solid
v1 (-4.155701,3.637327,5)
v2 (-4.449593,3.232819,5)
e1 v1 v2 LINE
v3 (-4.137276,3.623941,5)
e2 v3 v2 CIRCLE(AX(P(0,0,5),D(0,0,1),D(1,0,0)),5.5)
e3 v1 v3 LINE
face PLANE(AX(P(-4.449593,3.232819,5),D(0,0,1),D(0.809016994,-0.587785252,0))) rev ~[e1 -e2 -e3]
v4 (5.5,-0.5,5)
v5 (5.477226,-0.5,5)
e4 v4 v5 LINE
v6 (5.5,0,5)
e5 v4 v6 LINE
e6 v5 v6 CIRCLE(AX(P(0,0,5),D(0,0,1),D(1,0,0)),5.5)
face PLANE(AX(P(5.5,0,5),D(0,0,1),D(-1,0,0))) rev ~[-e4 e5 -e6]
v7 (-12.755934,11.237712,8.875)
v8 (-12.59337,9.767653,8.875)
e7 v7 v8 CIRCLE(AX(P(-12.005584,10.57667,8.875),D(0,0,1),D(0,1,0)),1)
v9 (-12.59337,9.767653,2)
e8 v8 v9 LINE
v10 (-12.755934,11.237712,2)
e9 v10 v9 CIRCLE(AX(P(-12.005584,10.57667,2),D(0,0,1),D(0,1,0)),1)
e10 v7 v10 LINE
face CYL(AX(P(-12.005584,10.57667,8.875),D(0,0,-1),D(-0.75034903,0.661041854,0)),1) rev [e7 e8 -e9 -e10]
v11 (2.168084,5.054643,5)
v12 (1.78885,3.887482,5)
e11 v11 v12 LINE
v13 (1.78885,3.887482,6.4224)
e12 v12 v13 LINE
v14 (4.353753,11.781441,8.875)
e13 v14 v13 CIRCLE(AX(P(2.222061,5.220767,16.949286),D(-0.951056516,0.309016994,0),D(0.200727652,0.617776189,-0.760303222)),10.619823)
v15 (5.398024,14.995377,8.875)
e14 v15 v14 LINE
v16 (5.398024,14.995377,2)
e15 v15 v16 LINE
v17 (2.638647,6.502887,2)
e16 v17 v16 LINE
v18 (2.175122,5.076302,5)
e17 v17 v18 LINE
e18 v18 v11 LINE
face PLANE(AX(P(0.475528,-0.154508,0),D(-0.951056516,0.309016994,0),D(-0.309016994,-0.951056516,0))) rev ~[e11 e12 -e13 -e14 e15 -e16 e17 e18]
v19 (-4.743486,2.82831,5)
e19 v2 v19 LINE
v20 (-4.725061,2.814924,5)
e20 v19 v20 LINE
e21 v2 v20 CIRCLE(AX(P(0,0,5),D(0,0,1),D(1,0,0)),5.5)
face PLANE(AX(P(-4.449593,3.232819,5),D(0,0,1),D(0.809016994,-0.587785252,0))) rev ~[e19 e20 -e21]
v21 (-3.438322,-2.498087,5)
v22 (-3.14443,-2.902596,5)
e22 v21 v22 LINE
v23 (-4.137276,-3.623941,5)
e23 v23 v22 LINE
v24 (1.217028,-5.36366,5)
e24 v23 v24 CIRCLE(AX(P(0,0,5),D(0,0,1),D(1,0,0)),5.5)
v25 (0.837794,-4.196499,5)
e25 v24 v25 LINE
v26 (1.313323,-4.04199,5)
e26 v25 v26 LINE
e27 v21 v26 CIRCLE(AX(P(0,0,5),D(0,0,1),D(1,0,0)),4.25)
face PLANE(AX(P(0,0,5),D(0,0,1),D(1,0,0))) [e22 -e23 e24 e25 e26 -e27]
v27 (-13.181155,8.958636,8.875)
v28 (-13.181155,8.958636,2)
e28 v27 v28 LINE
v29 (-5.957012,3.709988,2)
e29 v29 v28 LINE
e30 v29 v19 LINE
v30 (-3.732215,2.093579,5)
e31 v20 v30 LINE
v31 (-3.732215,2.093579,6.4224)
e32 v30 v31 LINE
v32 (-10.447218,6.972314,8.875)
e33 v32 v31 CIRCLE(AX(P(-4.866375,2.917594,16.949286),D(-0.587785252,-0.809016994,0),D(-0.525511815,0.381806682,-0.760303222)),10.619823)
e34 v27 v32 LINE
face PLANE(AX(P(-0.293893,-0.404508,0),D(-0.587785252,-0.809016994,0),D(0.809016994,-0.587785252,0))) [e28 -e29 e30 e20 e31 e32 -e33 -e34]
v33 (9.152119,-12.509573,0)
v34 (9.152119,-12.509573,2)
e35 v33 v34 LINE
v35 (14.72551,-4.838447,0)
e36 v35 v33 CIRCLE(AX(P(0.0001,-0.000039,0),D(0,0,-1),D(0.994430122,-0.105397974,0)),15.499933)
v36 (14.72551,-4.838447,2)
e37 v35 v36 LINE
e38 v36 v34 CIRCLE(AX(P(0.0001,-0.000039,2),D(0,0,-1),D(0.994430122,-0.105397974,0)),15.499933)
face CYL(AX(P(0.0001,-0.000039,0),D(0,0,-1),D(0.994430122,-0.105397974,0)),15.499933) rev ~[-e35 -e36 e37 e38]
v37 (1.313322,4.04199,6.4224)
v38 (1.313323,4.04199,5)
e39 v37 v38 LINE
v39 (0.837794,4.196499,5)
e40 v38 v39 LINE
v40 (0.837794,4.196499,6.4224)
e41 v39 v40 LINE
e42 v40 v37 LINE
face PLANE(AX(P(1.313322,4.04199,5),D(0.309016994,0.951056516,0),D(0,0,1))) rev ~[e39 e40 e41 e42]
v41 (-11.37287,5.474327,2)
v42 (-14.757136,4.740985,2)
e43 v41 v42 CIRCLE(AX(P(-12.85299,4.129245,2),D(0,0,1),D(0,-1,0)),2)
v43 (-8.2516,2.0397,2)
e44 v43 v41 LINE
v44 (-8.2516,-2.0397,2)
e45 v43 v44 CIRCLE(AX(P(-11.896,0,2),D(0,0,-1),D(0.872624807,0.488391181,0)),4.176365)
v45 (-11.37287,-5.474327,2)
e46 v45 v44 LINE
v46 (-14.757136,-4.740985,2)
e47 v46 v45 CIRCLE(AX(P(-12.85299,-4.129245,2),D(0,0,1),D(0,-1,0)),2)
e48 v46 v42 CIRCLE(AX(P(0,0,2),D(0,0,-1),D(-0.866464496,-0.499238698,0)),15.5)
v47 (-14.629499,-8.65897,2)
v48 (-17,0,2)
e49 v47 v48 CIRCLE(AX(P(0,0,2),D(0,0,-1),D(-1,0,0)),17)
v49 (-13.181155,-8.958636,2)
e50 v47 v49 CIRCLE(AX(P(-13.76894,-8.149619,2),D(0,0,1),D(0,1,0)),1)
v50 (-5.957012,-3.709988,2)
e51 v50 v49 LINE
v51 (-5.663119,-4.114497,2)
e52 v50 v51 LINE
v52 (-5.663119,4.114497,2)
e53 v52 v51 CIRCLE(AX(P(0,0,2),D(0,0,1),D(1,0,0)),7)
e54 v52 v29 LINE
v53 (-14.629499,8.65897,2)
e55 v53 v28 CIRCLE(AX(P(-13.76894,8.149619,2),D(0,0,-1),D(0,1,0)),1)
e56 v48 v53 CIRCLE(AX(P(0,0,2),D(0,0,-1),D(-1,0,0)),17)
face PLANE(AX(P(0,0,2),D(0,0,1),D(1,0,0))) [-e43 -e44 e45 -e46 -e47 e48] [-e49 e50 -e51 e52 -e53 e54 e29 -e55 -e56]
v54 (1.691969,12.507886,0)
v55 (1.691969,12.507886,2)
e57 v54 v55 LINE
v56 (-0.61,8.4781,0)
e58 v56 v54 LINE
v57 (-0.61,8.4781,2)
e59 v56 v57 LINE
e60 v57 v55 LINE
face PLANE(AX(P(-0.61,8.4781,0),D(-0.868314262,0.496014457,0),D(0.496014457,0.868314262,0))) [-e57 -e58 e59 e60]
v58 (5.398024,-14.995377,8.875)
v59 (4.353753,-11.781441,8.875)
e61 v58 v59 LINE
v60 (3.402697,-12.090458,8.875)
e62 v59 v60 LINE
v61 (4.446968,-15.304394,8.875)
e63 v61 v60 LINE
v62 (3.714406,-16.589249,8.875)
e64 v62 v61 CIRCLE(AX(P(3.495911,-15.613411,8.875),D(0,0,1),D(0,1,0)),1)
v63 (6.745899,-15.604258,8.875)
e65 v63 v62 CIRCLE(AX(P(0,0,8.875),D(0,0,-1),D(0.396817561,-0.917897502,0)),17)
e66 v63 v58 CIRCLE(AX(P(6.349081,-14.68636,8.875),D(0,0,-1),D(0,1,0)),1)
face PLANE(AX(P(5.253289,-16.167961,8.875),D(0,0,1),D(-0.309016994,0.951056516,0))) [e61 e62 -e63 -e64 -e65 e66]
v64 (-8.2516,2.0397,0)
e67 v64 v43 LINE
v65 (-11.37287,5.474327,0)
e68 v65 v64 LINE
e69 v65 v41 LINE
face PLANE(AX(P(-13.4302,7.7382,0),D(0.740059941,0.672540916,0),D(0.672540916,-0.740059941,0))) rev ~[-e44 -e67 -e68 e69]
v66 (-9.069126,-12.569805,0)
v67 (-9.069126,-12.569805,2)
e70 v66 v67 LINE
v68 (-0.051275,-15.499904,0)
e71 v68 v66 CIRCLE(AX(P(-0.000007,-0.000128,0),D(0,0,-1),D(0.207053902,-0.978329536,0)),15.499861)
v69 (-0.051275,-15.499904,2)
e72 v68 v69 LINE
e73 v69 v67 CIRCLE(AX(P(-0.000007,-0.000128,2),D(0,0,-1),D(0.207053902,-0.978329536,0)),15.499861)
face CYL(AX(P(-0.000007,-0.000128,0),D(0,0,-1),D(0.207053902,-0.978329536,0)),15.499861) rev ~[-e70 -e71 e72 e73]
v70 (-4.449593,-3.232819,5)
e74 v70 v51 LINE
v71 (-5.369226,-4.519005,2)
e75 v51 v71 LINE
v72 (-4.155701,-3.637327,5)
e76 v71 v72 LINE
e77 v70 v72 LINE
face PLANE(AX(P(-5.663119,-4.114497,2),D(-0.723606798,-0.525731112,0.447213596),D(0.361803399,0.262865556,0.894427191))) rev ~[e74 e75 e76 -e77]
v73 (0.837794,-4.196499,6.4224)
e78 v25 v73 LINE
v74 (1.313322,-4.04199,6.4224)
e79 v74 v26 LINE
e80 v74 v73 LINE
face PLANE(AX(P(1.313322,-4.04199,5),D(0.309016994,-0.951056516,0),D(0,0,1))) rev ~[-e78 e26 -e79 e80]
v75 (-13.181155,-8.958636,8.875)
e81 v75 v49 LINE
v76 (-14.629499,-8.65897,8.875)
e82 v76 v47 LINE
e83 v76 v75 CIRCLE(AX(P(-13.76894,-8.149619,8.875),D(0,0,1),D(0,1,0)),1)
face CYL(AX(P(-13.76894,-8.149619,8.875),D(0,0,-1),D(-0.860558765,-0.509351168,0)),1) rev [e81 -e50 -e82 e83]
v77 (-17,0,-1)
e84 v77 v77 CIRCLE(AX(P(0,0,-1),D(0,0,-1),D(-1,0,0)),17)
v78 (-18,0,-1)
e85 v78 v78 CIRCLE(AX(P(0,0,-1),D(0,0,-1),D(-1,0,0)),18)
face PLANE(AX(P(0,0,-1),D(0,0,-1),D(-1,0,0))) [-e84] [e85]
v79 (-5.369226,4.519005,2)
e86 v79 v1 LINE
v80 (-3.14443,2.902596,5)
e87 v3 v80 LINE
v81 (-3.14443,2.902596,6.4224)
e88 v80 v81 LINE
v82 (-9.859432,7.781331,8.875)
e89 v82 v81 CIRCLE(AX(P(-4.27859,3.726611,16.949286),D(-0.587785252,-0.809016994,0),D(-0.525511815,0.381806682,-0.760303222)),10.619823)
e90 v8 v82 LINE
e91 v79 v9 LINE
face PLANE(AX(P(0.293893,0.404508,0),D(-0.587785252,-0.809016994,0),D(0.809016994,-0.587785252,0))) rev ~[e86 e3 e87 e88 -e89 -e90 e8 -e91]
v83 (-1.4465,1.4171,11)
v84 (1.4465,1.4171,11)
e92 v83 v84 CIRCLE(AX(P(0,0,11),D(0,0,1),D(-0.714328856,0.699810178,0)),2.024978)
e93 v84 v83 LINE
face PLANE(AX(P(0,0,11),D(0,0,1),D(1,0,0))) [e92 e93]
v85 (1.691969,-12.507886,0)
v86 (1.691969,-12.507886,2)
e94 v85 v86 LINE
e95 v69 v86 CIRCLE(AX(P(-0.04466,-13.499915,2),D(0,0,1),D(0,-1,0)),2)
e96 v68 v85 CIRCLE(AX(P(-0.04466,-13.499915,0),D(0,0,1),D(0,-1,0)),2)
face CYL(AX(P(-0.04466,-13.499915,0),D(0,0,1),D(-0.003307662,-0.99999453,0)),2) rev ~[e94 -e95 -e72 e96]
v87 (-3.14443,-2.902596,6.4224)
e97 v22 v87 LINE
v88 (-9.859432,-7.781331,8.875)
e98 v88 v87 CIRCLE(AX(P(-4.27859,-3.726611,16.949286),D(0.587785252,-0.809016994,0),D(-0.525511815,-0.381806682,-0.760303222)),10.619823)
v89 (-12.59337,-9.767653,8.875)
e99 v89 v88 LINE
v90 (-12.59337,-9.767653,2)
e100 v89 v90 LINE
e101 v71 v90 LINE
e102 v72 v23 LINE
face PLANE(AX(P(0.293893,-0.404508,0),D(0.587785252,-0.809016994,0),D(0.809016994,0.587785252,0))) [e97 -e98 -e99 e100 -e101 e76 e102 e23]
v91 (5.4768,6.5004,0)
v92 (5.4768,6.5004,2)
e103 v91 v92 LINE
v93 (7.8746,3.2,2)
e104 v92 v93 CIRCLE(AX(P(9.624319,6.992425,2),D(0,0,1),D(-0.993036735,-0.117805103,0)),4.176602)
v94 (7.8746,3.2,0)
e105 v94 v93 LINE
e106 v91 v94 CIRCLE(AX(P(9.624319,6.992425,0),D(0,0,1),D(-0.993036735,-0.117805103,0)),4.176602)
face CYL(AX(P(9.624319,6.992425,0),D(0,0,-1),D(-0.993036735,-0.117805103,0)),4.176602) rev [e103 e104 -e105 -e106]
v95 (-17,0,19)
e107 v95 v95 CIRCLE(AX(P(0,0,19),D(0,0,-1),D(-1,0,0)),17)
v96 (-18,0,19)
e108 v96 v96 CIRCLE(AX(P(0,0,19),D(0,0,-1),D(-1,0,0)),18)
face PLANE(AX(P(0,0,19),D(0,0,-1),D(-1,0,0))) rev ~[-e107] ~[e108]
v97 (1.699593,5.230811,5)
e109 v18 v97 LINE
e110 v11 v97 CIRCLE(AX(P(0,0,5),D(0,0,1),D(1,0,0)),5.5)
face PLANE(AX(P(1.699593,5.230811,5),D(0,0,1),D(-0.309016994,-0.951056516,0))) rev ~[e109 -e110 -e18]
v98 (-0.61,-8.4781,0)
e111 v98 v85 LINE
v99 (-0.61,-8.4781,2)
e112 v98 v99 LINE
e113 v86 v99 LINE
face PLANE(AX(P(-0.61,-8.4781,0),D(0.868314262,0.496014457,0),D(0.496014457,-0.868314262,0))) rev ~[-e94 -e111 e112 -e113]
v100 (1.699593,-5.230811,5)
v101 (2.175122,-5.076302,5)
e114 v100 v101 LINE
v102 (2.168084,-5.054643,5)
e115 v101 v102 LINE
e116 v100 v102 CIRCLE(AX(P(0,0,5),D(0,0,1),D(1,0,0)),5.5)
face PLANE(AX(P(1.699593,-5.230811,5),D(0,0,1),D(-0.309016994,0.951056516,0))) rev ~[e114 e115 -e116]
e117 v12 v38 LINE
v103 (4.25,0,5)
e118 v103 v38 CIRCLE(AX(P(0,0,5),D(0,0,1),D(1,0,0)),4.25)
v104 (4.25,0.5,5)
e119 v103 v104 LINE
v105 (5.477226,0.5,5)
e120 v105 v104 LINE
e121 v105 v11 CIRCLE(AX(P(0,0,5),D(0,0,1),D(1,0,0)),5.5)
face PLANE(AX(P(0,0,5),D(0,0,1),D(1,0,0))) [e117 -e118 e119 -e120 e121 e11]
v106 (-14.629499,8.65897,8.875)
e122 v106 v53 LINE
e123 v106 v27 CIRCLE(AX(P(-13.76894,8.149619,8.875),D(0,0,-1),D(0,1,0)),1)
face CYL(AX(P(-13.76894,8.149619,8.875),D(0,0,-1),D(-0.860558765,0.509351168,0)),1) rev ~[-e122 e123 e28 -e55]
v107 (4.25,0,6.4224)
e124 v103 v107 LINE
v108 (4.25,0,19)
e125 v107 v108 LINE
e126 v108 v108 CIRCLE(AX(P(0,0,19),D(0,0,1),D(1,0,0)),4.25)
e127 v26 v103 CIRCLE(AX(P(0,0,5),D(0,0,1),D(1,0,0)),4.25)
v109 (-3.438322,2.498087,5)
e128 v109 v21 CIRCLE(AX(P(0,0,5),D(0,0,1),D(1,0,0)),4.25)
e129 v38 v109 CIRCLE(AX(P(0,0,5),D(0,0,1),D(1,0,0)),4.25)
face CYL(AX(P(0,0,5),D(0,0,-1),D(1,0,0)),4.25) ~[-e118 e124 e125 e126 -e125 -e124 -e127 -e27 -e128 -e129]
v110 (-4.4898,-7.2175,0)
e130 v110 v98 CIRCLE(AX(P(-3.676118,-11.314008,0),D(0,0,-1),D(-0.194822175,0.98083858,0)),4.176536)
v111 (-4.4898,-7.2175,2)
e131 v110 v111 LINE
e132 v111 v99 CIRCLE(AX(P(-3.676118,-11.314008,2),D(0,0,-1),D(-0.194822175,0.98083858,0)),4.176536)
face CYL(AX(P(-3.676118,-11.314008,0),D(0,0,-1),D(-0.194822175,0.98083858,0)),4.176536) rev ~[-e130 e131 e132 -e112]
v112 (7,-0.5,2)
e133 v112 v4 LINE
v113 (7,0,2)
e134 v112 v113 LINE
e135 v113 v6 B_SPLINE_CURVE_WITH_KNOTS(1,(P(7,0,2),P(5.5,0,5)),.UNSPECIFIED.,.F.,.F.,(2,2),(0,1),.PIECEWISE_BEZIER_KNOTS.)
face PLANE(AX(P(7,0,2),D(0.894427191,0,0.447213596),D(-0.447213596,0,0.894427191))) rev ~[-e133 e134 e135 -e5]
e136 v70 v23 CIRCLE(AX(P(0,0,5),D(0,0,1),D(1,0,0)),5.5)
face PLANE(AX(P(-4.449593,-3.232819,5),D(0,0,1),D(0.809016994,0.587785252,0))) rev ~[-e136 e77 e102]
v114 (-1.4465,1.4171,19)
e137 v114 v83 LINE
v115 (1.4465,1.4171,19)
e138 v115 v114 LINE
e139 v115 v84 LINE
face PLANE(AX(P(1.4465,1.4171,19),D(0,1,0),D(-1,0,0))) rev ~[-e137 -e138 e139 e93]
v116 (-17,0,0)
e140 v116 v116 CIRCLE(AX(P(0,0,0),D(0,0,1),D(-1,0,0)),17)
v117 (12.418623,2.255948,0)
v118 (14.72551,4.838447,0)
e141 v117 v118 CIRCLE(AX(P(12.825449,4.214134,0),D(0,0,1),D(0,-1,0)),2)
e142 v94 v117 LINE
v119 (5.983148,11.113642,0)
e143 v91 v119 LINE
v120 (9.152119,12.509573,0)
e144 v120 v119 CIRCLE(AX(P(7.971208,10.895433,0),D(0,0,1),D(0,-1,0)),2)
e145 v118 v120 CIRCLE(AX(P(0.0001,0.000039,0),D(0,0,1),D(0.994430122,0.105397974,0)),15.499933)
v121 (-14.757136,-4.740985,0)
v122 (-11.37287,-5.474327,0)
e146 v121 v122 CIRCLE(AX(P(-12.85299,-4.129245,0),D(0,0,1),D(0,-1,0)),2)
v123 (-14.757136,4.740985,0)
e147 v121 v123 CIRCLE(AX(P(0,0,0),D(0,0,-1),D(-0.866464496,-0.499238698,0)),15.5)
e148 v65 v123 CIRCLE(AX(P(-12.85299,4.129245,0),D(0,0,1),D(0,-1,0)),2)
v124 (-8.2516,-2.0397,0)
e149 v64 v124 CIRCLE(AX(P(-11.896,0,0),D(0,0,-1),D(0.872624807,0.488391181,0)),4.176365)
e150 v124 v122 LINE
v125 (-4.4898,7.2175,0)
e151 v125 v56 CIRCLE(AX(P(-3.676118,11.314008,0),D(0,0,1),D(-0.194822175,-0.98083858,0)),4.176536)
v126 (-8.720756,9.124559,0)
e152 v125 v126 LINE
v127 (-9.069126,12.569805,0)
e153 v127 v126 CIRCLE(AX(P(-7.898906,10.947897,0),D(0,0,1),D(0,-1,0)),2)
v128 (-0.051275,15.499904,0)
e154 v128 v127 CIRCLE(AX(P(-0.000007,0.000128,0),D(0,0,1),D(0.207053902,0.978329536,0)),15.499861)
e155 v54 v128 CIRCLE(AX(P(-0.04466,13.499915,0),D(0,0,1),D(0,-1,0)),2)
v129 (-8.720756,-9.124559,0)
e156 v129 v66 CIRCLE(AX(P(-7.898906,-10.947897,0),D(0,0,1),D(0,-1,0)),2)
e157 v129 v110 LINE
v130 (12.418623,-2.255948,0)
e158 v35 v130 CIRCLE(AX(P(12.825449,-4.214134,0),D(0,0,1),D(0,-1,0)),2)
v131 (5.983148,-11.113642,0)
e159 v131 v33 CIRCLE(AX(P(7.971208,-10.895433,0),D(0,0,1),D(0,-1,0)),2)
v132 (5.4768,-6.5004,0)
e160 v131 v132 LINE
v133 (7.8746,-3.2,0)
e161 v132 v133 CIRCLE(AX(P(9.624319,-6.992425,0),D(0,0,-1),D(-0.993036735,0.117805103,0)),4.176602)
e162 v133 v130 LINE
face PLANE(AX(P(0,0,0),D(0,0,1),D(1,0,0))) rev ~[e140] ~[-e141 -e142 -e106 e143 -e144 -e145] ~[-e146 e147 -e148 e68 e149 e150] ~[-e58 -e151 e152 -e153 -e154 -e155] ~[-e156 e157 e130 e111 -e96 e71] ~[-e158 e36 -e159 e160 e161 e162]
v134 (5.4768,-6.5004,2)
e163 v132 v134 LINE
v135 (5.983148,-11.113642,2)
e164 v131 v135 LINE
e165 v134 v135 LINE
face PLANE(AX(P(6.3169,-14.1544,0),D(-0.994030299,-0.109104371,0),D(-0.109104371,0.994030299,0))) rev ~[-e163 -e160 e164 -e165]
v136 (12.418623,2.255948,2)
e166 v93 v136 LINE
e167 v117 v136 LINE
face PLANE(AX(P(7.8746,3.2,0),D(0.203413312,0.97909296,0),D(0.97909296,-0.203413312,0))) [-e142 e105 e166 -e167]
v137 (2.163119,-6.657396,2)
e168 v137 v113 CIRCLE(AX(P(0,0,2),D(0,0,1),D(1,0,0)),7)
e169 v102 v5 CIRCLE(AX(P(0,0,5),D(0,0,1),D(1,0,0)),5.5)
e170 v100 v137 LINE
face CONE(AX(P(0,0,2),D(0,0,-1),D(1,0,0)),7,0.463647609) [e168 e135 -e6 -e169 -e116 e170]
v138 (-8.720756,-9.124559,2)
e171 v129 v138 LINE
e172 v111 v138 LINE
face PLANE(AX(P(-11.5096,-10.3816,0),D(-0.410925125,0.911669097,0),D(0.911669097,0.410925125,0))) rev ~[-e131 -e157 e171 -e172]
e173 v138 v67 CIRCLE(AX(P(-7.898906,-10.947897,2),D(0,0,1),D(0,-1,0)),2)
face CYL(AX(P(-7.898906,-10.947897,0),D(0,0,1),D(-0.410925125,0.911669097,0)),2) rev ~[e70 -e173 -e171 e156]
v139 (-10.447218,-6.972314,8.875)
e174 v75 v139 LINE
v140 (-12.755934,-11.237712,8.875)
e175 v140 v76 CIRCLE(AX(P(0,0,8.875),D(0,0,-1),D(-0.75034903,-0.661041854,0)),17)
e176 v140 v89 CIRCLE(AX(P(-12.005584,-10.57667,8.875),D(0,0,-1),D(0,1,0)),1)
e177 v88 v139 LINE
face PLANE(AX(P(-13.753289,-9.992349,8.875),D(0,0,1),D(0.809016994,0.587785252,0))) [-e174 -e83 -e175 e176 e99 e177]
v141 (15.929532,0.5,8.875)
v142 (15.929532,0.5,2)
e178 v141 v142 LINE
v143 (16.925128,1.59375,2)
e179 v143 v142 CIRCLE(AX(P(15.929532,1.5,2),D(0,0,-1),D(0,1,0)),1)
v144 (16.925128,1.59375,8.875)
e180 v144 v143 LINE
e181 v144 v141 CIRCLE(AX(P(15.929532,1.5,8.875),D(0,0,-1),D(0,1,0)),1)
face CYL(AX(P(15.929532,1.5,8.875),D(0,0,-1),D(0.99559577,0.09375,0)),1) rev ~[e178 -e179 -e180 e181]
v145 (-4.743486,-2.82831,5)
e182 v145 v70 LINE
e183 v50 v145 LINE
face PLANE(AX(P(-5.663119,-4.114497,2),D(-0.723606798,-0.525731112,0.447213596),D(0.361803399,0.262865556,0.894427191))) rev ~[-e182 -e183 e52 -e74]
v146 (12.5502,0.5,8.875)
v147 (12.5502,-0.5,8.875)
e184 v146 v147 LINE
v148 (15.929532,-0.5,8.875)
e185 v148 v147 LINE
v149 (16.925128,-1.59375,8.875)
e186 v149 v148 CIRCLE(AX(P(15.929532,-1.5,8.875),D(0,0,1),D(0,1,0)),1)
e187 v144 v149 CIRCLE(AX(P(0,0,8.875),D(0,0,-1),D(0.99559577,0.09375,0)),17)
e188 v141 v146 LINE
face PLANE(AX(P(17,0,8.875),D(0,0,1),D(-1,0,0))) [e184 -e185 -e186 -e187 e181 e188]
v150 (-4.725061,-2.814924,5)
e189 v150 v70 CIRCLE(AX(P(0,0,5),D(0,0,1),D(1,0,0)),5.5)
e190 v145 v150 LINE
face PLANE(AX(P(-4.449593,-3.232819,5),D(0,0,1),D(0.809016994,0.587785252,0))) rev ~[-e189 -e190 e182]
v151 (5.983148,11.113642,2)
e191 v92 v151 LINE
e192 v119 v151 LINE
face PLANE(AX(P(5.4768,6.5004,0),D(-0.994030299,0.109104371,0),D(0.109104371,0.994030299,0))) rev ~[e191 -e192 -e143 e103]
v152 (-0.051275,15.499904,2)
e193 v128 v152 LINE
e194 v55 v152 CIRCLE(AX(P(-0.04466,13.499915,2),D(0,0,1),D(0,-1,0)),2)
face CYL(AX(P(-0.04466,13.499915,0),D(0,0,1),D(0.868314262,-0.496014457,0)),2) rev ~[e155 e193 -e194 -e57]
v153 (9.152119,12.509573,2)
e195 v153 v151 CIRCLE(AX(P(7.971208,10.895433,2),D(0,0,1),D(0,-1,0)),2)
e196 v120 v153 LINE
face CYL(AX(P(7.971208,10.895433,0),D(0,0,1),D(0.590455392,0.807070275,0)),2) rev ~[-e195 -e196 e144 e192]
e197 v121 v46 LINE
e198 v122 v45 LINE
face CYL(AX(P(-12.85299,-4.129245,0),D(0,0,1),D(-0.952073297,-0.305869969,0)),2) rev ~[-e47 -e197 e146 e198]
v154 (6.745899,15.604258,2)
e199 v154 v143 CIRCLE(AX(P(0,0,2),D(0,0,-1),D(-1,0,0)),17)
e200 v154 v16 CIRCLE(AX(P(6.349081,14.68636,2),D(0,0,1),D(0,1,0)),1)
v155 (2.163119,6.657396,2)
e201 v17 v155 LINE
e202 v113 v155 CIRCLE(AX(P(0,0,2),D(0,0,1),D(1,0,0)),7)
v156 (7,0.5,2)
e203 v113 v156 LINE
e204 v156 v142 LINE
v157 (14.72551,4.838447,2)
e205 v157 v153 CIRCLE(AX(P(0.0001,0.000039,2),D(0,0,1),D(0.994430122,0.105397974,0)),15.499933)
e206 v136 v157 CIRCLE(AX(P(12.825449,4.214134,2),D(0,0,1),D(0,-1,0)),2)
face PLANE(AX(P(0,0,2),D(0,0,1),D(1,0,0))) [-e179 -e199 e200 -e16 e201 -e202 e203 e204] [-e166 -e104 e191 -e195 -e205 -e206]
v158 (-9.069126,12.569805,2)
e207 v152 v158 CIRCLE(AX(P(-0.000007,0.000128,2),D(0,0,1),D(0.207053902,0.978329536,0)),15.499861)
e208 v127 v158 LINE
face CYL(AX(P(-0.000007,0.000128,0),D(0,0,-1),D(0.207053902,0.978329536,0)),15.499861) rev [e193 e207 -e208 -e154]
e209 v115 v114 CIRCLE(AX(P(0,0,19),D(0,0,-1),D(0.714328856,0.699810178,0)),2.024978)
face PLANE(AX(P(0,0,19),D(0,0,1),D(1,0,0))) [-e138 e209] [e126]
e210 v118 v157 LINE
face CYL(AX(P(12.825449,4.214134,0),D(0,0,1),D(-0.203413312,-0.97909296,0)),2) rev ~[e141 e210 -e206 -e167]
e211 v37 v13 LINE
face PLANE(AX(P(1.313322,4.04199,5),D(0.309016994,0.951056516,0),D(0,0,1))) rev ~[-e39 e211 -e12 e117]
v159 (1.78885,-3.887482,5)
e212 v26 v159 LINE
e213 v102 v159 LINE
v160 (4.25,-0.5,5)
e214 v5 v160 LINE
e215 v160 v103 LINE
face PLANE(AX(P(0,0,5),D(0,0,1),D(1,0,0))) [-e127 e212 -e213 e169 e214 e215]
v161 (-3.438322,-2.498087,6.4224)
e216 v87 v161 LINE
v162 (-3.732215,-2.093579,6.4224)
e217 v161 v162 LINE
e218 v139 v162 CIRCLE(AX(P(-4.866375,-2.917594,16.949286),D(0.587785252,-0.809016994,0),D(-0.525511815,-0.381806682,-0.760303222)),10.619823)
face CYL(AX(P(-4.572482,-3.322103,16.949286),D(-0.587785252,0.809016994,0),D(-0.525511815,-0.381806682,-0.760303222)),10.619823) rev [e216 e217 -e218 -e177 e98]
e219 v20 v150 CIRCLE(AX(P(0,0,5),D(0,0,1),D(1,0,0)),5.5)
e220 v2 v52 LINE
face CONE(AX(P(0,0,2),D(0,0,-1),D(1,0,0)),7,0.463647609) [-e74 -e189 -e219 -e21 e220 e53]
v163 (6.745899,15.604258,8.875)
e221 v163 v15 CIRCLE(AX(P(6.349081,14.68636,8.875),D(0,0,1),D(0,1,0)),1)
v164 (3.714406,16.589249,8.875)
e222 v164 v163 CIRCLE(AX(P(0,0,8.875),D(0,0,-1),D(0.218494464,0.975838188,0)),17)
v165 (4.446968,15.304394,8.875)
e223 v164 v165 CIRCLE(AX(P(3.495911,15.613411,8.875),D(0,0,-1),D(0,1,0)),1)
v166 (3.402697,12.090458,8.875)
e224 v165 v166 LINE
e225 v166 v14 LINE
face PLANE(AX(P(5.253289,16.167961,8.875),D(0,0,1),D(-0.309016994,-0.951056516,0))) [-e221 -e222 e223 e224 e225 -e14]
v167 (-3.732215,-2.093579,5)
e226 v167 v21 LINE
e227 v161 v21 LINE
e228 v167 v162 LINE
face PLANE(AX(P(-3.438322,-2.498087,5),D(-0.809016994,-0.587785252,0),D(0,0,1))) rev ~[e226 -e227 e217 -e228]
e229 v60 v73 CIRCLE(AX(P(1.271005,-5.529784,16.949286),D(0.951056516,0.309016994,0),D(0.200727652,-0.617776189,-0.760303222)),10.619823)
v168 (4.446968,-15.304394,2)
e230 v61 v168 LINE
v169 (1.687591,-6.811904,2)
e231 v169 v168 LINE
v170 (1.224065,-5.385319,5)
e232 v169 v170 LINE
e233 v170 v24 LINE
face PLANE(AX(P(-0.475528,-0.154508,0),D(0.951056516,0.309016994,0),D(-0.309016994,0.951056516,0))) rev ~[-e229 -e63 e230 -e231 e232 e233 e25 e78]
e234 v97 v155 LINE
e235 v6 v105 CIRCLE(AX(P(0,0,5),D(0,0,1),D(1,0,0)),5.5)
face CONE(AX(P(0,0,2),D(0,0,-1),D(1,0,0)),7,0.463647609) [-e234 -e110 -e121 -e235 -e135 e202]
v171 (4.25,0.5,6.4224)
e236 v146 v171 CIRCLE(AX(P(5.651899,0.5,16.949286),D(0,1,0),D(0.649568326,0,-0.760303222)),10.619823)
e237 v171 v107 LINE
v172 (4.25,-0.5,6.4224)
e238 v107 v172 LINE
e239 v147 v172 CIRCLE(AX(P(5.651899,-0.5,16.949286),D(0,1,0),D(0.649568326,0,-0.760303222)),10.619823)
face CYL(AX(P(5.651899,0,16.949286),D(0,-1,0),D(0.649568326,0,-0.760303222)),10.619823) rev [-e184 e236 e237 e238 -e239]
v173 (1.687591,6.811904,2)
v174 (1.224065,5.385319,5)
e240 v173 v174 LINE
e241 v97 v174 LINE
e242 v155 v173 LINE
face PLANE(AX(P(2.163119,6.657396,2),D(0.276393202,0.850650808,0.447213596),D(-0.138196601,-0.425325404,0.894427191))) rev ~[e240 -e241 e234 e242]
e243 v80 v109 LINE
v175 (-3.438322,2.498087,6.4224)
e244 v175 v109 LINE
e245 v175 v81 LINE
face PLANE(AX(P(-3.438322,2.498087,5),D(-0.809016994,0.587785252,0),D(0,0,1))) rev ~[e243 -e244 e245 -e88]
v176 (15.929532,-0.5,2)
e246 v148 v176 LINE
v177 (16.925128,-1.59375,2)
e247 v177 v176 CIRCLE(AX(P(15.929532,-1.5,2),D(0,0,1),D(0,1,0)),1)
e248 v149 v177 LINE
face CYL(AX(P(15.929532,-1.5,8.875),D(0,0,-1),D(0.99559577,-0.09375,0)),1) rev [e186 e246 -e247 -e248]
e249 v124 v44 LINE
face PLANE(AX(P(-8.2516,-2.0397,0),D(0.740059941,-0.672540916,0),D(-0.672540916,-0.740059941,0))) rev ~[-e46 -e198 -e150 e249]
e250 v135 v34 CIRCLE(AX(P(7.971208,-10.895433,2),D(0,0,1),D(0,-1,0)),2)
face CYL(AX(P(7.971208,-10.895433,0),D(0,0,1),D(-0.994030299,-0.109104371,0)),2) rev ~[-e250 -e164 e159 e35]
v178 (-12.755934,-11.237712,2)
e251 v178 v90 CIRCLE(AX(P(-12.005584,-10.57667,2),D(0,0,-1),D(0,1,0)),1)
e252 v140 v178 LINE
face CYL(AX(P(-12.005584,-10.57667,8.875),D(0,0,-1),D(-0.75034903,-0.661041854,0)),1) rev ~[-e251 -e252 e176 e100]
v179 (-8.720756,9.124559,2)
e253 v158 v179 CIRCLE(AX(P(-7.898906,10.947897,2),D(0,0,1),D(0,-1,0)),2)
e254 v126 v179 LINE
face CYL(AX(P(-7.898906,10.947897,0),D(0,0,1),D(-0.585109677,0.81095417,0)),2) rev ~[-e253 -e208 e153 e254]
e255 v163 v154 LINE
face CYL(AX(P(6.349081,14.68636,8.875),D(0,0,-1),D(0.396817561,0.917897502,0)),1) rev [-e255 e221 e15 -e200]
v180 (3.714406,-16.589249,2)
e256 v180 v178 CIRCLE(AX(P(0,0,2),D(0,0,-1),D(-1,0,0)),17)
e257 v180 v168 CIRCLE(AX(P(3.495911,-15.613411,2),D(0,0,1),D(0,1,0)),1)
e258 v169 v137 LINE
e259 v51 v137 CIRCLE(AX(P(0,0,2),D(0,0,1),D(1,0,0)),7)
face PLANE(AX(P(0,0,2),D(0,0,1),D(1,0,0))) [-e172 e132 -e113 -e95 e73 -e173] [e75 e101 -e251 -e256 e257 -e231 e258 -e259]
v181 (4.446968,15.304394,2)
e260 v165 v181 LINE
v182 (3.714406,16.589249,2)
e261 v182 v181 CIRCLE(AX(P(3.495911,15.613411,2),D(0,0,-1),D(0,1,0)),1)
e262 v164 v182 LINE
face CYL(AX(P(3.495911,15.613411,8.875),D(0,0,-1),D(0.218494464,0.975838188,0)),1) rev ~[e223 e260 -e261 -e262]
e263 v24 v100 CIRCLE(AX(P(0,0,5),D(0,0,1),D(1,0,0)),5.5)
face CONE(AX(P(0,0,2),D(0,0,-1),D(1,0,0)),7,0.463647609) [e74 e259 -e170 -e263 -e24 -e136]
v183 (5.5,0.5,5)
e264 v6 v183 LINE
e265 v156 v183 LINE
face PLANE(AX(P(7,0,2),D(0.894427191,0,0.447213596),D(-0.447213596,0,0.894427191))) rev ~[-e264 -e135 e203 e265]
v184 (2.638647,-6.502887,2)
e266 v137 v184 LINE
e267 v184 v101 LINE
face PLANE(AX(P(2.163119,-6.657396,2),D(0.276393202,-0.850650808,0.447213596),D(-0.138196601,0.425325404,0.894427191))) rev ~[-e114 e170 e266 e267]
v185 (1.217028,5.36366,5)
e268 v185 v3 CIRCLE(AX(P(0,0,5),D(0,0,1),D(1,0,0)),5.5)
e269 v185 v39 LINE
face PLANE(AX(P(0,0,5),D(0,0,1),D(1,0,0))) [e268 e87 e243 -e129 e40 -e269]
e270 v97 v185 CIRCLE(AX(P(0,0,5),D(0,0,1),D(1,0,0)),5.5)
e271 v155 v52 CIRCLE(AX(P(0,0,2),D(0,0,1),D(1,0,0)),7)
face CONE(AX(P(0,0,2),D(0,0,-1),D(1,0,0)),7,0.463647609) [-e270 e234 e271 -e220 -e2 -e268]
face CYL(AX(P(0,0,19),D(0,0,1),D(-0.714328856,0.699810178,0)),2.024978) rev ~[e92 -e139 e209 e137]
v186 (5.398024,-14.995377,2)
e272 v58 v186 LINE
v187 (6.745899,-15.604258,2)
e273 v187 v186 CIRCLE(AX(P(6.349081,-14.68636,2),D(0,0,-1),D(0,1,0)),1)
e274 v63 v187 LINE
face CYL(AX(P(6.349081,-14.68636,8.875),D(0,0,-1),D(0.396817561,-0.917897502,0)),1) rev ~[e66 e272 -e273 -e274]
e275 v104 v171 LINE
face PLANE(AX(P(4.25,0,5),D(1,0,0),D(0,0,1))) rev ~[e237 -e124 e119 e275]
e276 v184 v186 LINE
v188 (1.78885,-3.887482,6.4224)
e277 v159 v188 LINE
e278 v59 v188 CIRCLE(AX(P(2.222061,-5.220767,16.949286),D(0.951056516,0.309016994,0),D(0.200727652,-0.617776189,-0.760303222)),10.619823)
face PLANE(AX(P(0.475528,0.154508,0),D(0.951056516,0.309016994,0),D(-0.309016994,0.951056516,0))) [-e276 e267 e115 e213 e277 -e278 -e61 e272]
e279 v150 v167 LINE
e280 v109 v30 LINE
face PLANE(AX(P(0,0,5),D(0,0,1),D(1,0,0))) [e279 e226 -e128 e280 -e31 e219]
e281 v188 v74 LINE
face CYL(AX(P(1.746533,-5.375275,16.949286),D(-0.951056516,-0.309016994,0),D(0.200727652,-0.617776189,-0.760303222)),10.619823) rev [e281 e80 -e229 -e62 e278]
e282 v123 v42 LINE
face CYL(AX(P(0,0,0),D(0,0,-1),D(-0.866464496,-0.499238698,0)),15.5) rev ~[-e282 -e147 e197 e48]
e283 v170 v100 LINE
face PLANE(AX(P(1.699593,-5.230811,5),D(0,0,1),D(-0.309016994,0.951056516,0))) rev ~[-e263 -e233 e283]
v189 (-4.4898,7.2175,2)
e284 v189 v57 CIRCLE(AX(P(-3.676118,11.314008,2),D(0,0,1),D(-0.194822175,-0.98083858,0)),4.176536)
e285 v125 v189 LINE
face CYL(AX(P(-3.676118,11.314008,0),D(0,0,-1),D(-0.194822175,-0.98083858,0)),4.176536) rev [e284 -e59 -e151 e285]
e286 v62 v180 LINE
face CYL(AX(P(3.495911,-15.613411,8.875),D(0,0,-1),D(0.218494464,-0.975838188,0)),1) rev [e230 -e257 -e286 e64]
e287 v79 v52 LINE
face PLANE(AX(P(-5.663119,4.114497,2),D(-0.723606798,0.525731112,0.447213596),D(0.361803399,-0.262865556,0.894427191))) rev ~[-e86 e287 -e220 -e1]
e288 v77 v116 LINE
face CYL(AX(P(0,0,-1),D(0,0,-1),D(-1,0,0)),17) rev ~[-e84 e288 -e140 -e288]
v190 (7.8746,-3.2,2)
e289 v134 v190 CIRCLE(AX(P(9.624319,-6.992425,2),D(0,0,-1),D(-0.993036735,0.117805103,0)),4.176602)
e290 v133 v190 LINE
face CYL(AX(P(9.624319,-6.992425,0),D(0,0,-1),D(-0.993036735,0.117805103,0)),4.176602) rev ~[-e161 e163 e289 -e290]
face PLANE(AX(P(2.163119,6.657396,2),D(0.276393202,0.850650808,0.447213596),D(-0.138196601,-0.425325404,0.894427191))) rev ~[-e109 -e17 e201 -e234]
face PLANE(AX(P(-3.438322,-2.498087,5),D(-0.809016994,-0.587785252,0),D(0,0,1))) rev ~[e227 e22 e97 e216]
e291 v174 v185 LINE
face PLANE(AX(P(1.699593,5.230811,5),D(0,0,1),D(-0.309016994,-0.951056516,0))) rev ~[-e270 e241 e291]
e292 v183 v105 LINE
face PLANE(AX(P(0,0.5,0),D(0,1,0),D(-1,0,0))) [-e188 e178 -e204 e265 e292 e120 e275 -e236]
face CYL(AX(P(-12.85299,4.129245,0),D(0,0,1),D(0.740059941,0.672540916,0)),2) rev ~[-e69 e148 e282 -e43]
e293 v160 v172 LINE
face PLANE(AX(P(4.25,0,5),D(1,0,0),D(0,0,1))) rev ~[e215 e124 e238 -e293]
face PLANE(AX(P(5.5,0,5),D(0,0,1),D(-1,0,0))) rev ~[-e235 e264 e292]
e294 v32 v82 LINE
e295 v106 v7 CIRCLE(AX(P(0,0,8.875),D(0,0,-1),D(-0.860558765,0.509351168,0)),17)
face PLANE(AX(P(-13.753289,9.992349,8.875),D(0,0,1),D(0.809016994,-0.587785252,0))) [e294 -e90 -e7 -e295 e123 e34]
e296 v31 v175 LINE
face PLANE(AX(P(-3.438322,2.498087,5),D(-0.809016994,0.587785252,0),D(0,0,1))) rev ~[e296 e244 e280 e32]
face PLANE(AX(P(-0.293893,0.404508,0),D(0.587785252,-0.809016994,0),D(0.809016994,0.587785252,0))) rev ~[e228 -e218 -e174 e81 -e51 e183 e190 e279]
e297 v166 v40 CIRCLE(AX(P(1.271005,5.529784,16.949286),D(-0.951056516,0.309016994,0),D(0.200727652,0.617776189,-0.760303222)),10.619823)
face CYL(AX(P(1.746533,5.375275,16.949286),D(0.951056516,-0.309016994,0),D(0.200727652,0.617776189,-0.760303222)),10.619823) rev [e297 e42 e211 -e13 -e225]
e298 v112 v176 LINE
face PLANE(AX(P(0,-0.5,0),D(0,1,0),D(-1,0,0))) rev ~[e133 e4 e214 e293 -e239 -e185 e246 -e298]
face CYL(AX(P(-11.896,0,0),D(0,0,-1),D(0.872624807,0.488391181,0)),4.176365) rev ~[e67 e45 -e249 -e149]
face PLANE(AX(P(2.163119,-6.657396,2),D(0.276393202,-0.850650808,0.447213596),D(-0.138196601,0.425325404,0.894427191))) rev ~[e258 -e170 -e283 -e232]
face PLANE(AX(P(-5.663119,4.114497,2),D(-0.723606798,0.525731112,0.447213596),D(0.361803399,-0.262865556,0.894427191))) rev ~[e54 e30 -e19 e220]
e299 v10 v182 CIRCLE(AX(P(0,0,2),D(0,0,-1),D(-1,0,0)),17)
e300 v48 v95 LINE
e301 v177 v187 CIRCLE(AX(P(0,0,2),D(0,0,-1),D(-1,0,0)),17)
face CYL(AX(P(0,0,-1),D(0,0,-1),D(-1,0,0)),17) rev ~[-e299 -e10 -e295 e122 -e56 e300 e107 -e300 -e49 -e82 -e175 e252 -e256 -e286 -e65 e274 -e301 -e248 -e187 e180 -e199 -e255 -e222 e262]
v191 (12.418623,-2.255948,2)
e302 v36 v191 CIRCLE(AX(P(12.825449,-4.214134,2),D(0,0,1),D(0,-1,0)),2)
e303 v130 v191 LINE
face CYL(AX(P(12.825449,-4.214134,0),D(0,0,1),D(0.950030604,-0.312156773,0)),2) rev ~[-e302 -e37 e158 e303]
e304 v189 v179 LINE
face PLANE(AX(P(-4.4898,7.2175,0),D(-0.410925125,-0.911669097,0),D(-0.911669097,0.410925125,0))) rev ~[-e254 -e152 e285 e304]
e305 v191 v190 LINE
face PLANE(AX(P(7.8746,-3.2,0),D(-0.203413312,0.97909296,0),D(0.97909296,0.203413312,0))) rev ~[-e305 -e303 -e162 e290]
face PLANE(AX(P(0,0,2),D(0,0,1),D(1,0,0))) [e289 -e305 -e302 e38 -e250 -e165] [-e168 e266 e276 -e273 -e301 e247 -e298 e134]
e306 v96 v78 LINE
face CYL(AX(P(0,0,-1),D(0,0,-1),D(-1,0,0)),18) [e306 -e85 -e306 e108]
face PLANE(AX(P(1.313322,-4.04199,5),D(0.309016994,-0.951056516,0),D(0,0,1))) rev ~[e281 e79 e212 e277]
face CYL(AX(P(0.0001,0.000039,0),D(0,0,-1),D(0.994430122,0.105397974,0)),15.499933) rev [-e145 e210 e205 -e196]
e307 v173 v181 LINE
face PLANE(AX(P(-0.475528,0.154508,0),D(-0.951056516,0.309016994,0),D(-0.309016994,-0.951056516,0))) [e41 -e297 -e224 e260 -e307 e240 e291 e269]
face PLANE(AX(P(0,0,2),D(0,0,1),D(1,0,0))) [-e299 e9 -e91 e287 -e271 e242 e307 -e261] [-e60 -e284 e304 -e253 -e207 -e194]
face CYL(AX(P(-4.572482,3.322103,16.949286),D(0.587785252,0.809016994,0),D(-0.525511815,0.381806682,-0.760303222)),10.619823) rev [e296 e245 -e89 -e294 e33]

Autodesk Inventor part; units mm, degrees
sketch "草图1" plane through (0, 0, 0) normal (0, 0, 1) x (1, 0, 0)
  circle A0 centre (0, 0) radius 17
  line L0 (7.8746, 3.2) -> (15.4137, 1.6337)
  line L1 (0, 0) -> (21.7118, 0) construction
  line L2 (7.8746, -3.2) -> (15.4137, -1.6337)
  line L3 (-0.61, 8.4781) -> (3.2093, 15.1641)
  line L4 (5.4768, 6.5004) -> (6.3169, 14.1544)
  line L5 (-8.2516, 2.0397) -> (-13.4302, 7.7382)
  line L6 (-4.4898, 7.2175) -> (-11.5096, 10.3816)
  line L7 (-4.4898, -7.2175) -> (-11.5096, -10.3816)
  line L8 (-8.2516, -2.0397) -> (-13.4302, -7.7382)
  line L9 (5.4768, -6.5004) -> (6.3169, -14.1544)
  line L10 (-0.61, -8.4781) -> (3.2093, -15.1641)
  arc A1 (5.4768, 6.5004) -> (7.8746, 3.2) centre (9.624, 6.9923) ccw
  arc A2 (-4.4898, 7.2175) -> (-0.61, 8.4781) centre (-3.6761, 11.3137) ccw
  arc A3 (-8.2516, -2.0397) -> (-8.2516, 2.0397) centre (-11.896, 0) ccw
  arc A4 (-0.61, -8.4781) -> (-4.4898, -7.2175) centre (-3.6761, -11.3137) ccw
  arc A5 (7.8746, -3.2) -> (5.4768, -6.5004) centre (9.624, -6.9923) ccw
  arc A6 (-7.6128, 3.7809) -> (-8.2516, 2.0397) centre (0, 0) ccw
  arc A7 (3.2093, 15.1641) -> (-11.5096, 10.3816) centre (0, 0) ccw
  arc A8 (-13.4302, 7.7382) -> (-13.4302, -7.7382) centre (0, 0) ccw
  arc A9 (-11.5096, -10.3816) -> (3.2093, -15.1641) centre (0, 0) ccw
  arc A10 (6.3169, -14.1544) -> (15.4137, -1.6337) centre (0, 0) ccw
  arc A11 (15.4137, 1.6337) -> (6.3169, 14.1544) centre (0, 0) ccw
  dimension "d2" = 34
  dimension "d3" = 7.7
  dimension "d4" = 3.2
  dimension "d5" = 21.7118
  dimension "d8" = 360
  dimension "d10" = 4.1763
  dimension "d13" = 360
  dimension "d15" = 8.5
extrude "拉伸1" add sketch "草图1" along normal blind 2 contours A0 | L2 A10 L9 A5 | A3 L8 A8 L5 | A4 L10 A9 L7
sketch "草图2" plane through (0, 0, 0) normal (0, 0, -1) x (-1, 0, 0)
  arc A0 (11.5096, 10.3816) -> (-3.2093, 15.1641) centre (0, 0) ccw projected
  line L0 (-3.2093, 15.1641) -> (0.61, 8.4781) projected
  arc A1 (11.5096, 10.3816) -> (-3.2093, 15.1641) centre (0, 0) ccw
  line L1 (-3.2093, 15.1641) -> (0.61, 8.4781)
  line L2 (4.4898, 7.2175) -> (11.5096, 10.3816) projected
  arc A2 (0.61, 8.4781) -> (4.4898, 7.2175) centre (3.6761, 11.3137) ccw
  arc A3 (0.61, 8.4781) -> (4.4898, 7.2175) centre (3.6761, 11.3137) ccw projected
  line L3 (4.4898, 7.2175) -> (11.5096, 10.3816)
  arc A4 (-6.3169, 14.1544) -> (-15.4137, 1.6337) centre (0, 0) ccw
  line L4 (-15.4137, 1.6337) -> (-7.8746, 3.2)
  arc A5 (-7.8746, 3.2) -> (-5.4768, 6.5004) centre (-9.624, 6.9923) ccw
  line L5 (-5.4768, 6.5004) -> (-6.3169, 14.1544)
  arc A6 (-15.4137, -1.6337) -> (-6.3169, -14.1544) centre (0, 0) ccw
  line L6 (-6.3169, -14.1544) -> (-5.4768, -6.5004)
  arc A7 (-5.4768, -6.5004) -> (-7.8746, -3.2) centre (-9.624, -6.9923) ccw
  line L7 (-7.8746, -3.2) -> (-15.4137, -1.6337)
  arc A8 (-3.2093, -15.1641) -> (11.5096, -10.3816) centre (0, 0) ccw
  line L8 (11.5096, -10.3816) -> (4.4898, -7.2175)
  arc A9 (4.4898, -7.2175) -> (0.61, -8.4781) centre (3.6761, -11.3137) ccw
  line L9 (0.61, -8.4781) -> (-3.2093, -15.1641)
  arc A10 (13.4302, -7.7382) -> (13.4302, 7.7382) centre (0, 0) ccw
  line L10 (13.4302, 7.7382) -> (8.2516, 2.0397)
  arc A11 (8.2516, 2.0397) -> (8.2516, -2.0397) centre (11.896, 0) ccw
  line L11 (8.2516, -2.0397) -> (13.4302, -7.7382)
  dimension "d20" = 360
extrude "拉伸2" cut sketch "草图2" against normal through all contours L7 A7 L6 A6 | L9 A9 L8 A8 | L11 A11 L10 A10
fillet "圆角1" radius 2 10 edges at (3.2093, 15.1641, 1) (15.4137, 1.6337, 1) (6.3169, -14.1544, 1) (-13.4302, 7.7382, 1) (-11.5096, 10.3816, 1) (-13.4302, -7.7382, 1) (-11.5096, -10.3816, 1) (3.2093, -15.1641, 1) (6.3169, 14.1544, 1) (15.4137, -1.6337, 1)
ref_plane "工作平面1" through (0, 0, -1) normal (0, 0, -1) x (-1, 0, 0)
sketch "草图3" plane through (0, 0, -1) normal (0, 0, -1) x (-1, 0, 0)
  circle A0 centre (0, 0) radius 18.5
  circle A1 centre (0, 0) radius 17
  dimension "d26" = 37
  dimension "d29" = 34
extrude "拉伸3" add sketch "草图3" against normal blind 20
ref_plane "工作平面2" through (0, 0, 5) normal (0, 0, 1) x (1, 0, 0)
sketch "草图4" plane through (0, 0, 5) normal (0, 0, 1) x (1, 0, 0)
  circle A0 centre (0, 0) radius 5.5
  dimension "d31" = 11
sketch "草图5" plane through (0, 0, 2) normal (0, 0, 1) x (1, 0, 0)
  circle A0 centre (0, 0) radius 7
  dimension "d32" = 14
loft "放样1" add profiles "草图5", "草图4"
sketch "草图6" plane through (0, 0, 5) normal (0, 0, 1) x (1, 0, 0)
  circle A0 centre (0, 0) radius 4.25
  dimension "d37" = 8.5
extrude "拉伸4" add sketch "草图6" along normal up to surface (14 mm away) from surface at 0
sketch "草图7" plane through (0, 0, 19) normal (0, 0, 1) x (1, 0, 0)
  arc A0 (-1.4465, 1.4171) -> (1.4465, 1.4171) centre (0, 0) ccw
  line L0 (1.4465, 1.4171) -> (-1.4465, 1.4171)
  line L1 (-25.9, 0) -> (25.9, 0) projected
  dimension "d40" = 4.05
  dimension "d41" = 2.893
extrude "拉伸5" cut sketch "草图7" against normal blind 8
sketch "草图8" plane through (0, 0, 0) normal (0, 1, 0) x (-1, 0, 0)
  line L0 (-5.5, 5) -> (5.5, 5) construction
  line L1 (-5.5, 5) -> (-7, 2) construction
  line L2 (-7, 2) -> (-5.5, 5) construction
  line L3 (17, 2) -> (-17, 2) projected
  line L4 (-17, 2) -> (-7, 2)
  line L5 (-4.25, 5) -> (4.25, 5) projected
  line L6 (-5.5, 5) -> (-4.25, 5)
  line L7 (-4.25, 5) -> (-4.25, 6.4224)
  line L8 (-4.25, 5) -> (-4.25, 19) projected
  line L9 (-17, 2) -> (-17, 8.875)
  line L10 (-17, 2) -> (-17, 19) projected
  line L11 (-17, 8.875) -> (-12.5502, 8.875)
  arc A0 (-12.5502, 8.875) -> (-4.25, 6.4224) centre (-5.652, 16.9491) ccw
  line L12 (-7, 2) -> (-5.5, 5)
  point P0 (0, 0)
extrude "拉伸6" add sketch "草图8" along normal mid plane 1
pattern_circular "环形阵列1" count 5 over 360 about axis through (0, 0, -10) along (0, 0, 1) of "拉伸6"
fillet "圆角2" radius 1 2 edges at (16.9926, 0.5, 5.4375) (16.9926, -0.5, 5.4375)
pattern_circular "环形阵列2" count 5 over 360 about axis through (0, 0, -10) along (0, 0, 1) of "圆角2"
ref_plane "工作平面3" through (0, 0, 9) normal (0, 0, 1) x (1, 0, 0)
sketch "草图9" plane through (0, 0, 9) normal (0, 0, 1) x (1, 0, 0)
  circle A0 centre (0, 0) radius 18.5
  circle A1 centre (0, 0) radius 18
  dimension "d53" = 36
  dimension "d54" = 37
extrude "拉伸7" cut sketch "草图9" along normal mid plane 18
fillet "圆角3" radius 0.5 2 edges at (18.5, 0, 18) (18.5, 0, 0)
sketch "草图10" plane through (0, 0, -1) normal (0, 0, -1) x (-1, 0, 0)
  circle A0 centre (0, 0) radius 18
  circle A1 centre (0, 0) radius 18.5
  dimension "d58" = 36
  dimension "d59" = 37
extrude "拉伸8" cut sketch "草图10" against normal through all
properties part number "车轮设计1" material "尼龙 6/6"
